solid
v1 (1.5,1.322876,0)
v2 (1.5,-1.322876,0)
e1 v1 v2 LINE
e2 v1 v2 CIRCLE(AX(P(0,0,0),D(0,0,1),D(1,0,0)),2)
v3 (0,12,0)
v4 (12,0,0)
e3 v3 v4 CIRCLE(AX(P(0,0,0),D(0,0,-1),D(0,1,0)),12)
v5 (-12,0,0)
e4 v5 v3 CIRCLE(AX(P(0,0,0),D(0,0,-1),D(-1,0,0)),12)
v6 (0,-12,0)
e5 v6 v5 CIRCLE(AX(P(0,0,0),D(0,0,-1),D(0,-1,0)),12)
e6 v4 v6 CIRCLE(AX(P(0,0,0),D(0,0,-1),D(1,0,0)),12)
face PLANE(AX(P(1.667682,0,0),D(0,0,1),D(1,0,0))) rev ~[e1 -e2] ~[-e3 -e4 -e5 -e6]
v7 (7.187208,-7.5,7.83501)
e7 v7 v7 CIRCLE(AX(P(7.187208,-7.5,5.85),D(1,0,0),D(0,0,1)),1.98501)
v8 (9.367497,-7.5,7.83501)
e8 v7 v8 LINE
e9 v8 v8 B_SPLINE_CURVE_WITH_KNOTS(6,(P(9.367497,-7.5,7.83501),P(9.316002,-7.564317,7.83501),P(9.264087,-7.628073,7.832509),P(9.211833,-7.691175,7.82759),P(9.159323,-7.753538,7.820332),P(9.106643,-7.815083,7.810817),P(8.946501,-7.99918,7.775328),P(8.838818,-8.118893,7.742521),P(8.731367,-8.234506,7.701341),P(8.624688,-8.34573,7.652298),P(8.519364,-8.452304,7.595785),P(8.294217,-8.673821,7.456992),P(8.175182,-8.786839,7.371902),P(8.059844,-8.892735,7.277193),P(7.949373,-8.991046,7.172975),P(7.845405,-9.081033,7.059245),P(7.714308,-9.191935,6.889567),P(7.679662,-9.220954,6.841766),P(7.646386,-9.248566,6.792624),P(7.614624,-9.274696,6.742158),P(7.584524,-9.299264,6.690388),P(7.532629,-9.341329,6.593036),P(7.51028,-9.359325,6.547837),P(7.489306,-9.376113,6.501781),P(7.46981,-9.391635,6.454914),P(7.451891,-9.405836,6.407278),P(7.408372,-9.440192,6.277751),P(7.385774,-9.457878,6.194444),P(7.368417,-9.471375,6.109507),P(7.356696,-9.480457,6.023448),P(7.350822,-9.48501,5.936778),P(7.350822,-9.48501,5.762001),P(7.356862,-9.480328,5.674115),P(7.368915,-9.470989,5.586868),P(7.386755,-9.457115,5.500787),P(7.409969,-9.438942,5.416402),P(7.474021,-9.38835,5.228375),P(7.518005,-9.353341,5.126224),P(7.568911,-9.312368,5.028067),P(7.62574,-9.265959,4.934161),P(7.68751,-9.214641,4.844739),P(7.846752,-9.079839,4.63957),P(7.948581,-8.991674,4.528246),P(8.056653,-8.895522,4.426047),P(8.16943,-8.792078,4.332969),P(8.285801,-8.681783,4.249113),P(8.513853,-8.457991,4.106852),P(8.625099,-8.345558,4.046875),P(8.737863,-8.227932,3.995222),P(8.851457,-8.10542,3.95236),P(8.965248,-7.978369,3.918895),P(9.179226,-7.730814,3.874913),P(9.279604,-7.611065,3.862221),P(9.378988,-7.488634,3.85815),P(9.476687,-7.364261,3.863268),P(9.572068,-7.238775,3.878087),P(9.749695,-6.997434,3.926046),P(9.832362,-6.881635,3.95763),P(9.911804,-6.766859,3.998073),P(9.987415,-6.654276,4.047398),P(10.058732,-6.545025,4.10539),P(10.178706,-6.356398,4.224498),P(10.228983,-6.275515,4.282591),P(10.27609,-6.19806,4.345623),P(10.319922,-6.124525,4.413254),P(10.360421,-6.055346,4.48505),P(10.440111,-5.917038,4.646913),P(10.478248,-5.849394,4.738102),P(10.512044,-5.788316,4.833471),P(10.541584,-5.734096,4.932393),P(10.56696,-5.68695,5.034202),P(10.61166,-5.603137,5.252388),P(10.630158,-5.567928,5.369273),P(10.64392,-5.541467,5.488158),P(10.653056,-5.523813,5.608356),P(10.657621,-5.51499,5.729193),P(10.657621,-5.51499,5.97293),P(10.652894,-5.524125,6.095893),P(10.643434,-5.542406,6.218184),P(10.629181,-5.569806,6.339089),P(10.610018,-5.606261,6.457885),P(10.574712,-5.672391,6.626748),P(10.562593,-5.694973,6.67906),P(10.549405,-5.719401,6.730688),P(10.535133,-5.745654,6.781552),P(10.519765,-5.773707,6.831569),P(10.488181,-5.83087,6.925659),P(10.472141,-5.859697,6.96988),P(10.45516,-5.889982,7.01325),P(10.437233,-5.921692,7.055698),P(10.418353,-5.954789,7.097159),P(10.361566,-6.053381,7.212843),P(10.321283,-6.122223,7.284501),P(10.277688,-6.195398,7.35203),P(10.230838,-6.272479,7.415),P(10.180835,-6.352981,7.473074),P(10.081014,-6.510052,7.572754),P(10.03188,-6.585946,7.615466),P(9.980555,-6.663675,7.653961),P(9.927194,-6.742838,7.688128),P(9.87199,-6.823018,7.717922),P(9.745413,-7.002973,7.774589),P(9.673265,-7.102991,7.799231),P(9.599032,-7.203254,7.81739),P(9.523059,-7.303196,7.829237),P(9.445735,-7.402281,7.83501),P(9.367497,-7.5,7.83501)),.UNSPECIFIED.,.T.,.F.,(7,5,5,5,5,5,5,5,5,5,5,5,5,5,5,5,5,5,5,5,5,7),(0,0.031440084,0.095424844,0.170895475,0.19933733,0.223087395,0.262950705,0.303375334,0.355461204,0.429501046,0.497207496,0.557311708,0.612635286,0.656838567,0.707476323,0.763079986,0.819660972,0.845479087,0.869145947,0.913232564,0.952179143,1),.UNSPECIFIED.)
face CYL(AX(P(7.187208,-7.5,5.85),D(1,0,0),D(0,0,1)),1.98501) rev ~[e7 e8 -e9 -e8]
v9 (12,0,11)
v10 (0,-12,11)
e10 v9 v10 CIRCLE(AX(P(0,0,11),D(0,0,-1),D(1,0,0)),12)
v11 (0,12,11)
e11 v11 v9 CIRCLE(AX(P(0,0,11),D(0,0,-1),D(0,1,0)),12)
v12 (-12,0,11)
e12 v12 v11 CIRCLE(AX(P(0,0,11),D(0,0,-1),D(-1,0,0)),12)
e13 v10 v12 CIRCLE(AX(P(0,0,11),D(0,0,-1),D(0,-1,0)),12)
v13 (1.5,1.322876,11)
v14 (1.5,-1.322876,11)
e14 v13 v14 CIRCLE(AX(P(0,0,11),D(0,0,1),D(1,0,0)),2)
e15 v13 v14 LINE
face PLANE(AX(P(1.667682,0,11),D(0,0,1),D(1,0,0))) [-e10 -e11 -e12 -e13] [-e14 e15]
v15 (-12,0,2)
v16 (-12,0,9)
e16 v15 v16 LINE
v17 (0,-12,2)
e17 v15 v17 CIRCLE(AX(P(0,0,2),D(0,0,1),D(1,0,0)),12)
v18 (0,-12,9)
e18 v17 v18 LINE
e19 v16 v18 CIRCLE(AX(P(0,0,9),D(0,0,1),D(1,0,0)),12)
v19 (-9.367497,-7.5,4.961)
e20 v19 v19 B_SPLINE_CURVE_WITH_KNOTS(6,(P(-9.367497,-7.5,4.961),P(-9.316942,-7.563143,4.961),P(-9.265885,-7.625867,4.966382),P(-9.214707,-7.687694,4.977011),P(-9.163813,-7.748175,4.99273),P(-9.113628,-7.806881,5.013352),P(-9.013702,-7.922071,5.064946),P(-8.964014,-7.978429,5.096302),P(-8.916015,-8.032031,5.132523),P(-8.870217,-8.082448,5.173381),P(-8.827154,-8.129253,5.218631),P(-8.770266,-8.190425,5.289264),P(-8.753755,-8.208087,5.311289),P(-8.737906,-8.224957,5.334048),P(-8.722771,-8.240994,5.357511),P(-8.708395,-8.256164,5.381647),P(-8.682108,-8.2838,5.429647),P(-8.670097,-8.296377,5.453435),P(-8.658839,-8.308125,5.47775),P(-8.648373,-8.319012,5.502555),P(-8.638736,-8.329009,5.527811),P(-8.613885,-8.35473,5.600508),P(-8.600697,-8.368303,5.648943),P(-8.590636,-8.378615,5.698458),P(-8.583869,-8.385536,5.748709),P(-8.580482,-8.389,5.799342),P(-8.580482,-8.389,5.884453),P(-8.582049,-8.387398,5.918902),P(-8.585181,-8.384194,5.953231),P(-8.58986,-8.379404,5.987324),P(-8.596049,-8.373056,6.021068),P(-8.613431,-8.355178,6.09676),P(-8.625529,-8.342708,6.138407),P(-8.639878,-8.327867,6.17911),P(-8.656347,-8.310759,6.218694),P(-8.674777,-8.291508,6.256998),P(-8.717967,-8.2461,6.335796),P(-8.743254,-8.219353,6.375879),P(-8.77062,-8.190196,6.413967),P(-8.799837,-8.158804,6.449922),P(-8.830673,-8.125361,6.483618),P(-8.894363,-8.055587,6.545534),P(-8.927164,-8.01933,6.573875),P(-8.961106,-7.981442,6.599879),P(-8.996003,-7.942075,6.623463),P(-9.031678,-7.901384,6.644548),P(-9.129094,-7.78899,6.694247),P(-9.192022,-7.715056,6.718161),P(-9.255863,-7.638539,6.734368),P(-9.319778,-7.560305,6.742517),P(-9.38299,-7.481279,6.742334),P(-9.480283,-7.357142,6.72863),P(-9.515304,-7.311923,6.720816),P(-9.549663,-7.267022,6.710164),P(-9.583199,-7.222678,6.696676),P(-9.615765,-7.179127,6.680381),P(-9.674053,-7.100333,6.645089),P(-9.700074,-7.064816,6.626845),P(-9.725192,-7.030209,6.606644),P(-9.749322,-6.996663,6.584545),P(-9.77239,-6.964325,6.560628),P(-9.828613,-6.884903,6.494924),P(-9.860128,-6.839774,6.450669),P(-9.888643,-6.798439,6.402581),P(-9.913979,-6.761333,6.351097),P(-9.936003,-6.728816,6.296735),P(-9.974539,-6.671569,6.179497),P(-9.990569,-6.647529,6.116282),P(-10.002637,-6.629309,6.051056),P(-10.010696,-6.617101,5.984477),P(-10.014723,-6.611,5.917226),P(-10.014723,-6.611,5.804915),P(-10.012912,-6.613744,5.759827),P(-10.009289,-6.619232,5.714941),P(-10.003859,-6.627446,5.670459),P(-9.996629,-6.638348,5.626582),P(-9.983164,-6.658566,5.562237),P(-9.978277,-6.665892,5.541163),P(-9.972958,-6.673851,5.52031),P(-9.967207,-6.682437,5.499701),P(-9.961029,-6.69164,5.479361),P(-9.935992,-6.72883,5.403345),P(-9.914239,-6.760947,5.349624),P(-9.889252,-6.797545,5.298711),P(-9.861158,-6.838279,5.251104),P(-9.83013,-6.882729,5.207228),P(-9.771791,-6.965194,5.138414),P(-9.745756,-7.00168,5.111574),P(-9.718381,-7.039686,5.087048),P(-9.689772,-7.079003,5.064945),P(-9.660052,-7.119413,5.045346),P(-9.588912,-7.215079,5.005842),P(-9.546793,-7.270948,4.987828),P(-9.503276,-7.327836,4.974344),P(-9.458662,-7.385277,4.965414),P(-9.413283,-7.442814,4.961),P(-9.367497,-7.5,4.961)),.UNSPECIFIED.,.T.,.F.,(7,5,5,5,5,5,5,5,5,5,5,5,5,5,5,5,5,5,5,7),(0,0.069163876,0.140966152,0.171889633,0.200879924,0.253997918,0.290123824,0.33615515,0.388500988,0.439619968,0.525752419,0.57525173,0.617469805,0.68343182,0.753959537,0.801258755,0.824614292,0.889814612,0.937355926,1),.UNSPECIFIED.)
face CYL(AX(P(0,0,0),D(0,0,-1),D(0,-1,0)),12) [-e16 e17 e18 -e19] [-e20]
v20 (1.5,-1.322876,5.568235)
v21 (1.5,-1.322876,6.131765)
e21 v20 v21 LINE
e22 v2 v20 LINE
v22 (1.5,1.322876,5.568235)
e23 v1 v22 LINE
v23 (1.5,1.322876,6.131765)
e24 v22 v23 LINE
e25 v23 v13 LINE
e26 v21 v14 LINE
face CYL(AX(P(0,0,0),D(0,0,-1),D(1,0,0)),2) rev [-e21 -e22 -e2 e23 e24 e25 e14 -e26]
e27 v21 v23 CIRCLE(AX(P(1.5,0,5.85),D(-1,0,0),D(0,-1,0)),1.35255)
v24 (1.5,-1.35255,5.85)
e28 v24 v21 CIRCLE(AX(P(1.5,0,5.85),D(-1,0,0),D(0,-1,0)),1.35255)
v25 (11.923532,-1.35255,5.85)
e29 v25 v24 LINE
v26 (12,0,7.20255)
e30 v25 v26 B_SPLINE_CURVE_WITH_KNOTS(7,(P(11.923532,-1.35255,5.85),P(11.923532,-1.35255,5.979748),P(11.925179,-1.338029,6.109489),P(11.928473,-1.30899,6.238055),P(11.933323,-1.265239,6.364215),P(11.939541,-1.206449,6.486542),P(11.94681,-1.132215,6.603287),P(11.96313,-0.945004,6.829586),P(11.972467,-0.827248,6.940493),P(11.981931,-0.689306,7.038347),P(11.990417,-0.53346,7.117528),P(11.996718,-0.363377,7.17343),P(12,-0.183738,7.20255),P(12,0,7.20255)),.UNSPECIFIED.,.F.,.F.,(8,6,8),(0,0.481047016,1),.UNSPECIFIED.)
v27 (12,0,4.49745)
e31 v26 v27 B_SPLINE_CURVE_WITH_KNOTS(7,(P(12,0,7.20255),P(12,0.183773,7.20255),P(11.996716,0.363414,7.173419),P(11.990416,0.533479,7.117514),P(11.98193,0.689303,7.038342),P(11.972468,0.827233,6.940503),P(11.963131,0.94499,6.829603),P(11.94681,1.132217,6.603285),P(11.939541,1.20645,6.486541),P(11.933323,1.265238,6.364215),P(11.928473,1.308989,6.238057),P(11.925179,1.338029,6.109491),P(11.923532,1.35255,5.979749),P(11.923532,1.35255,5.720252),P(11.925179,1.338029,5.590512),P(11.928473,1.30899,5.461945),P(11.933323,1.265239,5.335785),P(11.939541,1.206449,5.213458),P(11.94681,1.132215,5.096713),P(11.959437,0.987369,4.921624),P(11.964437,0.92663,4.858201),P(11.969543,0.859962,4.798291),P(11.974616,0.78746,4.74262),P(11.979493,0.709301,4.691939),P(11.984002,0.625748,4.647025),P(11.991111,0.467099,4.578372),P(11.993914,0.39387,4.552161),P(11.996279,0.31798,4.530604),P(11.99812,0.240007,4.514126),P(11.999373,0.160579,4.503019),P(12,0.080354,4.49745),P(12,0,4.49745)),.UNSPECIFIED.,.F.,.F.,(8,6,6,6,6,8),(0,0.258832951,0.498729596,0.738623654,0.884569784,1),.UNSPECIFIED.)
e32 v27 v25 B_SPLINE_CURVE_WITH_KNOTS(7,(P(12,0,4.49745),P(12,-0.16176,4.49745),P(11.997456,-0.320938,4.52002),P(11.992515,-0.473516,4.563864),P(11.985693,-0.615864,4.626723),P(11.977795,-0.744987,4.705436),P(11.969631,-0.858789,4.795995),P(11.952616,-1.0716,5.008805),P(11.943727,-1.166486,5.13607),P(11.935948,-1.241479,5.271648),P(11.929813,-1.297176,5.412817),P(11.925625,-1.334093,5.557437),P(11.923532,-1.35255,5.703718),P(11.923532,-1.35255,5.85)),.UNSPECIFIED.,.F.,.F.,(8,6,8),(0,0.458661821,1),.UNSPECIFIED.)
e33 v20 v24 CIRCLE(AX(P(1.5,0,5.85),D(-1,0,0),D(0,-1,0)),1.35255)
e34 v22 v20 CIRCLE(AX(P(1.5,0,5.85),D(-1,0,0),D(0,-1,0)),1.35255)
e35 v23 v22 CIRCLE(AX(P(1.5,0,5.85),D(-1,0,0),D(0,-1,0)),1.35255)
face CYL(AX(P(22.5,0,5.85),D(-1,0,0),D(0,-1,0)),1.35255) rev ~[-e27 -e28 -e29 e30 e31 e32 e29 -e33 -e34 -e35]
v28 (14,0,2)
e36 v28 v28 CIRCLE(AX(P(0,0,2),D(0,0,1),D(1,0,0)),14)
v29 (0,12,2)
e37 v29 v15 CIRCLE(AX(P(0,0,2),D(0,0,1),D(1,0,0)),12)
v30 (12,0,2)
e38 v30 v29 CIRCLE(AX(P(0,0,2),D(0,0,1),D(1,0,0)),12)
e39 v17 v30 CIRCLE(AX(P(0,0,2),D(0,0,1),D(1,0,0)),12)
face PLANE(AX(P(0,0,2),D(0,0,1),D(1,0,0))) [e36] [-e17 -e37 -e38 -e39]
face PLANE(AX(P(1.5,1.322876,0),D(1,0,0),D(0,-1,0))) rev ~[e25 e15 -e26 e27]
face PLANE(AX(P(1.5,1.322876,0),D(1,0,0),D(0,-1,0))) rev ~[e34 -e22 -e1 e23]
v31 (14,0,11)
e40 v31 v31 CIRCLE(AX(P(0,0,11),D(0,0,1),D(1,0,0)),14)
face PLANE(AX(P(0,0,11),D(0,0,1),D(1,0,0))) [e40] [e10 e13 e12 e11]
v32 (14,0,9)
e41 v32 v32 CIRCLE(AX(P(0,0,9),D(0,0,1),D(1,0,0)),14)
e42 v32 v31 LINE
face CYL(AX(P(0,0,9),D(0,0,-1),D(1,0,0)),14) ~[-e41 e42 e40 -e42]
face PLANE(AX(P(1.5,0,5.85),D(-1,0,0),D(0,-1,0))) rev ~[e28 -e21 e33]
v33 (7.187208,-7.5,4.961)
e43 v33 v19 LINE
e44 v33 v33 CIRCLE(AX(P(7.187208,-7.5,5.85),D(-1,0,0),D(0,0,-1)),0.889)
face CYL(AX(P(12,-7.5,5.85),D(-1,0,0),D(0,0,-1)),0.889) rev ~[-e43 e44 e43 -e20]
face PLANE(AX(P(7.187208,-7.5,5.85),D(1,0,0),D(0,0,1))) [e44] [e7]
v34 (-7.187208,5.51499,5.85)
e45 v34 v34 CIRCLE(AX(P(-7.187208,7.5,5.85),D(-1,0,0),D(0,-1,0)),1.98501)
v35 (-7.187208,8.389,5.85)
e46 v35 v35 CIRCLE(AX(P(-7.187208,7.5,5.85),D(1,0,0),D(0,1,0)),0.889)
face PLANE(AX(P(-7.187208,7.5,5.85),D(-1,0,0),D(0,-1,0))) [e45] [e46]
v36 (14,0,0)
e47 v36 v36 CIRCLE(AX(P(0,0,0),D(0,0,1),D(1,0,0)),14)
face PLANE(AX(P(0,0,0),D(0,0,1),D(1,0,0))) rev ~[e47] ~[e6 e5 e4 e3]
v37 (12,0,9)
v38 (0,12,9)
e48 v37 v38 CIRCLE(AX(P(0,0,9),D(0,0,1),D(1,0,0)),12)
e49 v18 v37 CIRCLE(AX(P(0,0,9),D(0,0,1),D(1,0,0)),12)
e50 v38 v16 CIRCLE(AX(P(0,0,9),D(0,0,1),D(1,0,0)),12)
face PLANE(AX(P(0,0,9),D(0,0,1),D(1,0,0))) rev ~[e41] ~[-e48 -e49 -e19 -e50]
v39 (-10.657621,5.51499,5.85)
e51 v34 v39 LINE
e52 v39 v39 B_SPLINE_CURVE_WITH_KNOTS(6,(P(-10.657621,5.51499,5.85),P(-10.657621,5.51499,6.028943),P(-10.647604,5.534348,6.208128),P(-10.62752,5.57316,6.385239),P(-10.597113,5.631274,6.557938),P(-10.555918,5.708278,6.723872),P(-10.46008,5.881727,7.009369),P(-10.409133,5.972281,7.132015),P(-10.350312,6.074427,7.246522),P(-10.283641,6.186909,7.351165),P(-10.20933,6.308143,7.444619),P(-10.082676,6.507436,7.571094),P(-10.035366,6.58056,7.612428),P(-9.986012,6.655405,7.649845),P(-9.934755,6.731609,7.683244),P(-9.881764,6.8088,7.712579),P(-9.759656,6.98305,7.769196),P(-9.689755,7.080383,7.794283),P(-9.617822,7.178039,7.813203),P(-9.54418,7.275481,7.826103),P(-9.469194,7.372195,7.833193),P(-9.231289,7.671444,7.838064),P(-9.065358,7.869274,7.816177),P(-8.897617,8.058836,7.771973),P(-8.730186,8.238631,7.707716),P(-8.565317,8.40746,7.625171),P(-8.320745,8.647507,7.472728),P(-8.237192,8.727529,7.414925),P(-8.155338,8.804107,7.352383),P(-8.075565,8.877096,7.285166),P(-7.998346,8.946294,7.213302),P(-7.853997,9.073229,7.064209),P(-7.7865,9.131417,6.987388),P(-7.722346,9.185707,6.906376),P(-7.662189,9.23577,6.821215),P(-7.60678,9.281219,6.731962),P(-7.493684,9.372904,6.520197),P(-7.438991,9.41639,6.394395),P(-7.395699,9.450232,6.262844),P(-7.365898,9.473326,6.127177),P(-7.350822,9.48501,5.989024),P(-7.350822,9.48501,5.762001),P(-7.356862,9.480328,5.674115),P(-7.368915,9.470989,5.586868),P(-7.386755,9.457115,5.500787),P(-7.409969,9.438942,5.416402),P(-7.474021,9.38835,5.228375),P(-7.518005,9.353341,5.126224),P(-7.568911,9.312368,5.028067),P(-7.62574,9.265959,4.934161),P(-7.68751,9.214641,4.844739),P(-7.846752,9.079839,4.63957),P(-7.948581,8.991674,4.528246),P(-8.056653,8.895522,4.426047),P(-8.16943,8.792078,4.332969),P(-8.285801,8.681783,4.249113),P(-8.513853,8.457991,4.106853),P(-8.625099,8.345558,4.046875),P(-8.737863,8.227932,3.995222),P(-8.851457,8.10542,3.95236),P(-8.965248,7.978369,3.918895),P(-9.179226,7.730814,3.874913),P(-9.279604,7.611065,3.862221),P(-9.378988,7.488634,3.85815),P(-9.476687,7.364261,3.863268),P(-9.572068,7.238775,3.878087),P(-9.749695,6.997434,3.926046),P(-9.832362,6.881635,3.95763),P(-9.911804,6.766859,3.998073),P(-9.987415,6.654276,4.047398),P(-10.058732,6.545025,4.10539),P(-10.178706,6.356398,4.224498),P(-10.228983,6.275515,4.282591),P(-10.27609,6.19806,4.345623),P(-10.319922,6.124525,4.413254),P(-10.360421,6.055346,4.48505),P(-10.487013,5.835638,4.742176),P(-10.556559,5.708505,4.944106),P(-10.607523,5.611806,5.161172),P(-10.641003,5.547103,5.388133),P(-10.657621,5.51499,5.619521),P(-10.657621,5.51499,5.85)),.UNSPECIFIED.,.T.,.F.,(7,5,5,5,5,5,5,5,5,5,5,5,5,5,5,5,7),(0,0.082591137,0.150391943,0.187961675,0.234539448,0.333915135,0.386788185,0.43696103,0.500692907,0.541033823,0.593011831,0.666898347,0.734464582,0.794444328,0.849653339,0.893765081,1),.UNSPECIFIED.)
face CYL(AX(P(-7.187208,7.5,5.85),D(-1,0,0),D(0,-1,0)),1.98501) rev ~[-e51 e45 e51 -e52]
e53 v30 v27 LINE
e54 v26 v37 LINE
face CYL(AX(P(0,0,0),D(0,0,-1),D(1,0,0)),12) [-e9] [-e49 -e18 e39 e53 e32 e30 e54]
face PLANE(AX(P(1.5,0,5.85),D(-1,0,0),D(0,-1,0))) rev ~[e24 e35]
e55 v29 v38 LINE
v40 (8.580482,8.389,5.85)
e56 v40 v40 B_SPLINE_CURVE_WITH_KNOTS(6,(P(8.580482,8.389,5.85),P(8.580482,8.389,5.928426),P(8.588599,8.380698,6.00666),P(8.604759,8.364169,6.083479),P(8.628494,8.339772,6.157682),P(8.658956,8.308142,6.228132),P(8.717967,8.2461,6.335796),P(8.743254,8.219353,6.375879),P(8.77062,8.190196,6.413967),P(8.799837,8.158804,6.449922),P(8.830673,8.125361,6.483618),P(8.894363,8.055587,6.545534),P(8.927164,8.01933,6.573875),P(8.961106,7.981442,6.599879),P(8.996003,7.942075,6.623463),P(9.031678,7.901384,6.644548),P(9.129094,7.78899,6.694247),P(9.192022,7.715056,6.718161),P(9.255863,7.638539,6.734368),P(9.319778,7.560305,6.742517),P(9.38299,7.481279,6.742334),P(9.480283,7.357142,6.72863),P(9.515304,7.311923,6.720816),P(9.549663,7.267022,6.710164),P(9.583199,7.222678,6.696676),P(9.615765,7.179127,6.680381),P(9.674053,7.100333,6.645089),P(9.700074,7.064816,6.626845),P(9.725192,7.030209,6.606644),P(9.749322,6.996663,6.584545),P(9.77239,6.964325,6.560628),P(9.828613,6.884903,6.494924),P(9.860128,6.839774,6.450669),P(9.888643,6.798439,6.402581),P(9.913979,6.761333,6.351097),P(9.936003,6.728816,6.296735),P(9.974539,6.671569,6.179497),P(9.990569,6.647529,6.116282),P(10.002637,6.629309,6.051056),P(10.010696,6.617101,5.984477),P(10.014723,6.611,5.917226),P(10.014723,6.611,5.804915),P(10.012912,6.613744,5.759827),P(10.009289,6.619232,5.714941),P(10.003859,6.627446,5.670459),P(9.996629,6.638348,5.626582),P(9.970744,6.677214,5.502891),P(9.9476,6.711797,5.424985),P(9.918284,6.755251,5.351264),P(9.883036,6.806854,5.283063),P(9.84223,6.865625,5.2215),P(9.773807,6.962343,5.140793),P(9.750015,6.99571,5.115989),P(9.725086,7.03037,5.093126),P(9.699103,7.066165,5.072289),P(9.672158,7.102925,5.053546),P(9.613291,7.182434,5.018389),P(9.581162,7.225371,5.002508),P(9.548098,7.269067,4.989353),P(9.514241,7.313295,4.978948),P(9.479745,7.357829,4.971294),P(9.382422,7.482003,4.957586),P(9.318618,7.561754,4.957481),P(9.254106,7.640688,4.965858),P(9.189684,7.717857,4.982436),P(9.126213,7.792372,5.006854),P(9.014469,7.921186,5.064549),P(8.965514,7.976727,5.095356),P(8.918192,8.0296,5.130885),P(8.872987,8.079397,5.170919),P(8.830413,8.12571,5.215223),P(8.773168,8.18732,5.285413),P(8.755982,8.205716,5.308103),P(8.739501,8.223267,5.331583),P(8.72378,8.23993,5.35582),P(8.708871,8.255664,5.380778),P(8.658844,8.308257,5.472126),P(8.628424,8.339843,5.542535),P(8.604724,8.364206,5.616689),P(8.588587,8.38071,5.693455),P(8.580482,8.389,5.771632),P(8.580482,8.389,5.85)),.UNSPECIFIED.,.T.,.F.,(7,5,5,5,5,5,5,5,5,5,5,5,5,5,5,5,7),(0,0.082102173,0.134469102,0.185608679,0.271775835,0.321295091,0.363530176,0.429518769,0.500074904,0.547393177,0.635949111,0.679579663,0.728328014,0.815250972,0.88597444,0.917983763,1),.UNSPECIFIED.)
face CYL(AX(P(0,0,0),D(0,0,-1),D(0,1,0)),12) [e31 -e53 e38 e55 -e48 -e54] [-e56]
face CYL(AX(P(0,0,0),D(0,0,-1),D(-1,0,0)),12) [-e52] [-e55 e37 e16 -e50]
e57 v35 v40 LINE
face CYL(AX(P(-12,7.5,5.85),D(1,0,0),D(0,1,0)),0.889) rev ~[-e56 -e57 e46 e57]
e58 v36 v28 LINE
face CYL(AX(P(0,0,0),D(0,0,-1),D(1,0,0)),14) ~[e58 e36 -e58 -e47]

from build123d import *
from build123d.topology import SkipClean

# Parameters (mm, degrees)
SKETCH1_R                                           = 12
SKETCH1_R_2                                         = 2
SQUARE_BODY_DEPTH                                   = 11
CBORE_FOR_0_BINDING_HEAD_MACHINE_SCREW1_D           = 1.778
CBORE_FOR_0_BINDING_HEAD_MACHINE_SCREW1_CBORE_D     = 3.97002
CBORE_FOR_0_BINDING_HEAD_MACHINE_SCREW1_CBORE_DEPTH = 4.812792
CBORE_FOR_0_BINDING_HEAD_MACHINE_SC_2_D             = 1.778
CBORE_FOR_0_BINDING_HEAD_MACHINE_SC_2_CBORE_D       = 3.97002
CBORE_FOR_0_BINDING_HEAD_MACHINE_SC_2_CBORE_DEPTH   = 4.812792
F_6_32_TAPPED_HOLE2_D                               = 2.7051
F_6_32_TAPPED_HOLE2_DEPTH                           = 10.5
CENTER_SPINDLE_DEPTH                                = 21.223748416
SKETCH1_3_R                                         = 14
SKETCH1_3_R_2                                       = 12
TOP_FLANGE_DEPTH                                    = 2
BOTTOM_START                                        = 9
SKETCH1_4_R                                         = 14
SKETCH1_4_R_2                                       = 12
BOTTOM_FLANGE_DEPTH                                 = 2


with BuildPart() as part:
    # Sketch1 → Square Body (new body)
    # profile 1 of 10: a face of its own
    with BuildSketch(Plane.XY):
        Circle(SKETCH1_R)
        Circle(SKETCH1_R_2, mode=Mode.SUBTRACT)
    # profile 2 of 10: a face of its own
    with BuildSketch(Plane.XY):
        with BuildLine():
            Line((-12, 7.211102551), (-12, 0))
            ThreePointArc((-12, 0), (-8.485281374, 8.485281374), (0, 12))
            Line((0, 12), (-7.211102551, 12))
            ThreePointArc((-7.211102551, 12), (-9.899494937, 9.899494937), (-12, 7.211102551))
        make_face()
    # profile 3 of 10: a face of its own
    with BuildSketch(Plane.XY):
        with BuildLine():
            Line((-12, 12), (-12, 7.211102551))
            ThreePointArc((-12, 7.211102551), (-9.899494937, 9.899494937), (-7.211102551, 12))
            Line((-7.211102551, 12), (-12, 12))
        make_face()
    # profile 4 of 10: a face of its own
    with BuildSketch(Plane.XY):
        with BuildLine():
            ThreePointArc((0, -12), (-8.485281374, -8.485281374), (-12, 0))
            Line((-12, 0), (-12, -7.211102551))
            ThreePointArc((-12, -7.211102551), (-9.899494937, -9.899494937), (-7.211102551, -12))
            Line((-7.211102551, -12), (0, -12))
        make_face()
    # profile 5 of 10: a face of its own
    with BuildSketch(Plane.XY):
        with BuildLine():
            ThreePointArc((-7.211102551, -12), (-9.899494937, -9.899494937), (-12, -7.211102551))
            Line((-12, -7.211102551), (-12, -12))
            Line((-12, -12), (-7.211102551, -12))
        make_face()
    # profile 6 of 10: a face of its own
    with BuildSketch(Plane.XY):
        with BuildLine():
            ThreePointArc((12, 0), (8.485281374, -8.485281374), (0, -12))
            Line((0, -12), (7.211102551, -12))
            ThreePointArc((7.211102551, -12), (9.899494937, -9.899494937), (12, -7.211102551))
            Line((12, -7.211102551), (12, 0))
        make_face()
    # profile 7 of 10: a face of its own
    with BuildSketch(Plane.XY):
        with BuildLine():
            ThreePointArc((12, -7.211102551), (9.899494937, -9.899494937), (7.211102551, -12))
            Line((7.211102551, -12), (12, -12))
            Line((12, -12), (12, -7.211102551))
        make_face()
    # profile 8 of 10: a face of its own
    with BuildSketch(Plane.XY):
        with BuildLine():
            Line((7.211102551, 12), (0, 12))
            ThreePointArc((0, 12), (8.485281374, 8.485281374), (12, 0))
            Line((12, 0), (12, 7.211102551))
            ThreePointArc((12, 7.211102551), (9.899494937, 9.899494937), (7.211102551, 12))
        make_face()
    # profile 9 of 10: a face of its own
    with BuildSketch(Plane.XY):
        with BuildLine():
            Line((12, 12), (7.211102551, 12))
            ThreePointArc((7.211102551, 12), (9.899494937, 9.899494937), (12, 7.211102551))
            Line((12, 7.211102551), (12, 12))
        make_face()
    # profile 10 of 10: a face of its own
    with BuildSketch(Plane.XY):
        with BuildLine():
            ThreePointArc((2, 0), (1.870828693, 0.707106781), (1.5, 1.322875656))
            Line((1.5, 1.322875656), (1.5, -1.322875656))
            ThreePointArc((1.5, -1.322875656), (1.870828693, -0.707106781), (2, 0))
        make_face()
    extrude(amount=SQUARE_BODY_DEPTH)

    # CBORE for #0 Binding Head Machine Screw1 (through all)
    with Locations(Plane(origin=(-12, 7.5, 5.85), x_dir=(0, -1, 0), z_dir=(-1, 0, 0))):
        with Locations((0, 0)):
            CounterBoreHole(CBORE_FOR_0_BINDING_HEAD_MACHINE_SCREW1_D / 2, CBORE_FOR_0_BINDING_HEAD_MACHINE_SCREW1_CBORE_D / 2, CBORE_FOR_0_BINDING_HEAD_MACHINE_SCREW1_CBORE_DEPTH)

    # CBORE for _0 Binding Head Machine Sc 2 (through all)
    with Locations(Plane(origin=(12, -7.5, 5.85), x_dir=(0, 0, 1), z_dir=(1, 0, 0))):
        with Locations((0, 0)):
            CounterBoreHole(CBORE_FOR_0_BINDING_HEAD_MACHINE_SC_2_D / 2, CBORE_FOR_0_BINDING_HEAD_MACHINE_SC_2_CBORE_D / 2, CBORE_FOR_0_BINDING_HEAD_MACHINE_SC_2_CBORE_DEPTH)

    # #6-32 Tapped Hole2
    with Locations(Plane(origin=(12, 0, 5.85), x_dir=(0, 1, 0), z_dir=(1, 0, 0))):
        with Locations((0, 0)):
            Hole(F_6_32_TAPPED_HOLE2_D / 2, depth=F_6_32_TAPPED_HOLE2_DEPTH)

    # Sketch1<5> → Center Spindle (cut, through all)
    with SkipClean():  # the faces are left unmerged after this step: merging them gives an invalid solid
        with BuildSketch(Plane.XY):
            with BuildLine():
                ThreePointArc((0, -12), (-8.485281374, -8.485281374), (-12, 0))
                Line((-12, 0), (-12, -7.211102551))
                ThreePointArc((-12, -7.211102551), (-9.899494937, -9.899494937), (-7.211102551, -12))
                Line((-7.211102551, -12), (0, -12))
            make_face()
            with BuildLine():
                ThreePointArc((-7.211102551, -12), (-9.899494937, -9.899494937), (-12, -7.211102551))
                Line((-12, -7.211102551), (-12, -12))
                Line((-12, -12), (-7.211102551, -12))
            make_face()
            with BuildLine():
                Line((-12, 7.211102551), (-12, 0))
                ThreePointArc((-12, 0), (-8.485281374, 8.485281374), (0, 12))
                Line((0, 12), (-7.211102551, 12))
                ThreePointArc((-7.211102551, 12), (-9.899494937, 9.899494937), (-12, 7.211102551))
            make_face()
            with BuildLine():
                Line((-12, 12), (-12, 7.211102551))
                ThreePointArc((-12, 7.211102551), (-9.899494937, 9.899494937), (-7.211102551, 12))
                Line((-7.211102551, 12), (-12, 12))
            make_face()
            with BuildLine():
                Line((7.211102551, 12), (0, 12))
                ThreePointArc((0, 12), (8.485281374, 8.485281374), (12, 0))
                Line((12, 0), (12, 7.211102551))
                ThreePointArc((12, 7.211102551), (9.899494937, 9.899494937), (7.211102551, 12))
            make_face()
            with BuildLine():
                Line((12, 12), (7.211102551, 12))
                ThreePointArc((7.211102551, 12), (9.899494937, 9.899494937), (12, 7.211102551))
                Line((12, 7.211102551), (12, 12))
            make_face()
            with BuildLine():
                ThreePointArc((12, 0), (8.485281374, -8.485281374), (0, -12))
                Line((0, -12), (7.211102551, -12))
                ThreePointArc((7.211102551, -12), (9.899494937, -9.899494937), (12, -7.211102551))
                Line((12, -7.211102551), (12, 0))
            make_face()
            with BuildLine():
                ThreePointArc((12, -7.211102551), (9.899494937, -9.899494937), (7.211102551, -12))
                Line((7.211102551, -12), (12, -12))
                Line((12, -12), (12, -7.211102551))
            make_face()
        extrude(amount=CENTER_SPINDLE_DEPTH, mode=Mode.SUBTRACT)

    # Sketch1<3> → Top Flange (add)
    with SkipClean():  # the faces are left unmerged after this step: merging them gives an invalid solid
        with BuildSketch(Plane.XY):
            Circle(SKETCH1_3_R)
            Circle(SKETCH1_3_R_2, mode=Mode.SUBTRACT)
        extrude(amount=TOP_FLANGE_DEPTH)

    # Sketch1<4> → Bottom Flange (add)
    with SkipClean():  # the faces are left unmerged after this step: merging them gives an invalid solid
        with BuildSketch(Plane.XY.offset(BOTTOM_START)):
            Circle(SKETCH1_4_R)
            Circle(SKETCH1_4_R_2, mode=Mode.SUBTRACT)
        extrude(amount=BOTTOM_FLANGE_DEPTH)


solid = part.part
